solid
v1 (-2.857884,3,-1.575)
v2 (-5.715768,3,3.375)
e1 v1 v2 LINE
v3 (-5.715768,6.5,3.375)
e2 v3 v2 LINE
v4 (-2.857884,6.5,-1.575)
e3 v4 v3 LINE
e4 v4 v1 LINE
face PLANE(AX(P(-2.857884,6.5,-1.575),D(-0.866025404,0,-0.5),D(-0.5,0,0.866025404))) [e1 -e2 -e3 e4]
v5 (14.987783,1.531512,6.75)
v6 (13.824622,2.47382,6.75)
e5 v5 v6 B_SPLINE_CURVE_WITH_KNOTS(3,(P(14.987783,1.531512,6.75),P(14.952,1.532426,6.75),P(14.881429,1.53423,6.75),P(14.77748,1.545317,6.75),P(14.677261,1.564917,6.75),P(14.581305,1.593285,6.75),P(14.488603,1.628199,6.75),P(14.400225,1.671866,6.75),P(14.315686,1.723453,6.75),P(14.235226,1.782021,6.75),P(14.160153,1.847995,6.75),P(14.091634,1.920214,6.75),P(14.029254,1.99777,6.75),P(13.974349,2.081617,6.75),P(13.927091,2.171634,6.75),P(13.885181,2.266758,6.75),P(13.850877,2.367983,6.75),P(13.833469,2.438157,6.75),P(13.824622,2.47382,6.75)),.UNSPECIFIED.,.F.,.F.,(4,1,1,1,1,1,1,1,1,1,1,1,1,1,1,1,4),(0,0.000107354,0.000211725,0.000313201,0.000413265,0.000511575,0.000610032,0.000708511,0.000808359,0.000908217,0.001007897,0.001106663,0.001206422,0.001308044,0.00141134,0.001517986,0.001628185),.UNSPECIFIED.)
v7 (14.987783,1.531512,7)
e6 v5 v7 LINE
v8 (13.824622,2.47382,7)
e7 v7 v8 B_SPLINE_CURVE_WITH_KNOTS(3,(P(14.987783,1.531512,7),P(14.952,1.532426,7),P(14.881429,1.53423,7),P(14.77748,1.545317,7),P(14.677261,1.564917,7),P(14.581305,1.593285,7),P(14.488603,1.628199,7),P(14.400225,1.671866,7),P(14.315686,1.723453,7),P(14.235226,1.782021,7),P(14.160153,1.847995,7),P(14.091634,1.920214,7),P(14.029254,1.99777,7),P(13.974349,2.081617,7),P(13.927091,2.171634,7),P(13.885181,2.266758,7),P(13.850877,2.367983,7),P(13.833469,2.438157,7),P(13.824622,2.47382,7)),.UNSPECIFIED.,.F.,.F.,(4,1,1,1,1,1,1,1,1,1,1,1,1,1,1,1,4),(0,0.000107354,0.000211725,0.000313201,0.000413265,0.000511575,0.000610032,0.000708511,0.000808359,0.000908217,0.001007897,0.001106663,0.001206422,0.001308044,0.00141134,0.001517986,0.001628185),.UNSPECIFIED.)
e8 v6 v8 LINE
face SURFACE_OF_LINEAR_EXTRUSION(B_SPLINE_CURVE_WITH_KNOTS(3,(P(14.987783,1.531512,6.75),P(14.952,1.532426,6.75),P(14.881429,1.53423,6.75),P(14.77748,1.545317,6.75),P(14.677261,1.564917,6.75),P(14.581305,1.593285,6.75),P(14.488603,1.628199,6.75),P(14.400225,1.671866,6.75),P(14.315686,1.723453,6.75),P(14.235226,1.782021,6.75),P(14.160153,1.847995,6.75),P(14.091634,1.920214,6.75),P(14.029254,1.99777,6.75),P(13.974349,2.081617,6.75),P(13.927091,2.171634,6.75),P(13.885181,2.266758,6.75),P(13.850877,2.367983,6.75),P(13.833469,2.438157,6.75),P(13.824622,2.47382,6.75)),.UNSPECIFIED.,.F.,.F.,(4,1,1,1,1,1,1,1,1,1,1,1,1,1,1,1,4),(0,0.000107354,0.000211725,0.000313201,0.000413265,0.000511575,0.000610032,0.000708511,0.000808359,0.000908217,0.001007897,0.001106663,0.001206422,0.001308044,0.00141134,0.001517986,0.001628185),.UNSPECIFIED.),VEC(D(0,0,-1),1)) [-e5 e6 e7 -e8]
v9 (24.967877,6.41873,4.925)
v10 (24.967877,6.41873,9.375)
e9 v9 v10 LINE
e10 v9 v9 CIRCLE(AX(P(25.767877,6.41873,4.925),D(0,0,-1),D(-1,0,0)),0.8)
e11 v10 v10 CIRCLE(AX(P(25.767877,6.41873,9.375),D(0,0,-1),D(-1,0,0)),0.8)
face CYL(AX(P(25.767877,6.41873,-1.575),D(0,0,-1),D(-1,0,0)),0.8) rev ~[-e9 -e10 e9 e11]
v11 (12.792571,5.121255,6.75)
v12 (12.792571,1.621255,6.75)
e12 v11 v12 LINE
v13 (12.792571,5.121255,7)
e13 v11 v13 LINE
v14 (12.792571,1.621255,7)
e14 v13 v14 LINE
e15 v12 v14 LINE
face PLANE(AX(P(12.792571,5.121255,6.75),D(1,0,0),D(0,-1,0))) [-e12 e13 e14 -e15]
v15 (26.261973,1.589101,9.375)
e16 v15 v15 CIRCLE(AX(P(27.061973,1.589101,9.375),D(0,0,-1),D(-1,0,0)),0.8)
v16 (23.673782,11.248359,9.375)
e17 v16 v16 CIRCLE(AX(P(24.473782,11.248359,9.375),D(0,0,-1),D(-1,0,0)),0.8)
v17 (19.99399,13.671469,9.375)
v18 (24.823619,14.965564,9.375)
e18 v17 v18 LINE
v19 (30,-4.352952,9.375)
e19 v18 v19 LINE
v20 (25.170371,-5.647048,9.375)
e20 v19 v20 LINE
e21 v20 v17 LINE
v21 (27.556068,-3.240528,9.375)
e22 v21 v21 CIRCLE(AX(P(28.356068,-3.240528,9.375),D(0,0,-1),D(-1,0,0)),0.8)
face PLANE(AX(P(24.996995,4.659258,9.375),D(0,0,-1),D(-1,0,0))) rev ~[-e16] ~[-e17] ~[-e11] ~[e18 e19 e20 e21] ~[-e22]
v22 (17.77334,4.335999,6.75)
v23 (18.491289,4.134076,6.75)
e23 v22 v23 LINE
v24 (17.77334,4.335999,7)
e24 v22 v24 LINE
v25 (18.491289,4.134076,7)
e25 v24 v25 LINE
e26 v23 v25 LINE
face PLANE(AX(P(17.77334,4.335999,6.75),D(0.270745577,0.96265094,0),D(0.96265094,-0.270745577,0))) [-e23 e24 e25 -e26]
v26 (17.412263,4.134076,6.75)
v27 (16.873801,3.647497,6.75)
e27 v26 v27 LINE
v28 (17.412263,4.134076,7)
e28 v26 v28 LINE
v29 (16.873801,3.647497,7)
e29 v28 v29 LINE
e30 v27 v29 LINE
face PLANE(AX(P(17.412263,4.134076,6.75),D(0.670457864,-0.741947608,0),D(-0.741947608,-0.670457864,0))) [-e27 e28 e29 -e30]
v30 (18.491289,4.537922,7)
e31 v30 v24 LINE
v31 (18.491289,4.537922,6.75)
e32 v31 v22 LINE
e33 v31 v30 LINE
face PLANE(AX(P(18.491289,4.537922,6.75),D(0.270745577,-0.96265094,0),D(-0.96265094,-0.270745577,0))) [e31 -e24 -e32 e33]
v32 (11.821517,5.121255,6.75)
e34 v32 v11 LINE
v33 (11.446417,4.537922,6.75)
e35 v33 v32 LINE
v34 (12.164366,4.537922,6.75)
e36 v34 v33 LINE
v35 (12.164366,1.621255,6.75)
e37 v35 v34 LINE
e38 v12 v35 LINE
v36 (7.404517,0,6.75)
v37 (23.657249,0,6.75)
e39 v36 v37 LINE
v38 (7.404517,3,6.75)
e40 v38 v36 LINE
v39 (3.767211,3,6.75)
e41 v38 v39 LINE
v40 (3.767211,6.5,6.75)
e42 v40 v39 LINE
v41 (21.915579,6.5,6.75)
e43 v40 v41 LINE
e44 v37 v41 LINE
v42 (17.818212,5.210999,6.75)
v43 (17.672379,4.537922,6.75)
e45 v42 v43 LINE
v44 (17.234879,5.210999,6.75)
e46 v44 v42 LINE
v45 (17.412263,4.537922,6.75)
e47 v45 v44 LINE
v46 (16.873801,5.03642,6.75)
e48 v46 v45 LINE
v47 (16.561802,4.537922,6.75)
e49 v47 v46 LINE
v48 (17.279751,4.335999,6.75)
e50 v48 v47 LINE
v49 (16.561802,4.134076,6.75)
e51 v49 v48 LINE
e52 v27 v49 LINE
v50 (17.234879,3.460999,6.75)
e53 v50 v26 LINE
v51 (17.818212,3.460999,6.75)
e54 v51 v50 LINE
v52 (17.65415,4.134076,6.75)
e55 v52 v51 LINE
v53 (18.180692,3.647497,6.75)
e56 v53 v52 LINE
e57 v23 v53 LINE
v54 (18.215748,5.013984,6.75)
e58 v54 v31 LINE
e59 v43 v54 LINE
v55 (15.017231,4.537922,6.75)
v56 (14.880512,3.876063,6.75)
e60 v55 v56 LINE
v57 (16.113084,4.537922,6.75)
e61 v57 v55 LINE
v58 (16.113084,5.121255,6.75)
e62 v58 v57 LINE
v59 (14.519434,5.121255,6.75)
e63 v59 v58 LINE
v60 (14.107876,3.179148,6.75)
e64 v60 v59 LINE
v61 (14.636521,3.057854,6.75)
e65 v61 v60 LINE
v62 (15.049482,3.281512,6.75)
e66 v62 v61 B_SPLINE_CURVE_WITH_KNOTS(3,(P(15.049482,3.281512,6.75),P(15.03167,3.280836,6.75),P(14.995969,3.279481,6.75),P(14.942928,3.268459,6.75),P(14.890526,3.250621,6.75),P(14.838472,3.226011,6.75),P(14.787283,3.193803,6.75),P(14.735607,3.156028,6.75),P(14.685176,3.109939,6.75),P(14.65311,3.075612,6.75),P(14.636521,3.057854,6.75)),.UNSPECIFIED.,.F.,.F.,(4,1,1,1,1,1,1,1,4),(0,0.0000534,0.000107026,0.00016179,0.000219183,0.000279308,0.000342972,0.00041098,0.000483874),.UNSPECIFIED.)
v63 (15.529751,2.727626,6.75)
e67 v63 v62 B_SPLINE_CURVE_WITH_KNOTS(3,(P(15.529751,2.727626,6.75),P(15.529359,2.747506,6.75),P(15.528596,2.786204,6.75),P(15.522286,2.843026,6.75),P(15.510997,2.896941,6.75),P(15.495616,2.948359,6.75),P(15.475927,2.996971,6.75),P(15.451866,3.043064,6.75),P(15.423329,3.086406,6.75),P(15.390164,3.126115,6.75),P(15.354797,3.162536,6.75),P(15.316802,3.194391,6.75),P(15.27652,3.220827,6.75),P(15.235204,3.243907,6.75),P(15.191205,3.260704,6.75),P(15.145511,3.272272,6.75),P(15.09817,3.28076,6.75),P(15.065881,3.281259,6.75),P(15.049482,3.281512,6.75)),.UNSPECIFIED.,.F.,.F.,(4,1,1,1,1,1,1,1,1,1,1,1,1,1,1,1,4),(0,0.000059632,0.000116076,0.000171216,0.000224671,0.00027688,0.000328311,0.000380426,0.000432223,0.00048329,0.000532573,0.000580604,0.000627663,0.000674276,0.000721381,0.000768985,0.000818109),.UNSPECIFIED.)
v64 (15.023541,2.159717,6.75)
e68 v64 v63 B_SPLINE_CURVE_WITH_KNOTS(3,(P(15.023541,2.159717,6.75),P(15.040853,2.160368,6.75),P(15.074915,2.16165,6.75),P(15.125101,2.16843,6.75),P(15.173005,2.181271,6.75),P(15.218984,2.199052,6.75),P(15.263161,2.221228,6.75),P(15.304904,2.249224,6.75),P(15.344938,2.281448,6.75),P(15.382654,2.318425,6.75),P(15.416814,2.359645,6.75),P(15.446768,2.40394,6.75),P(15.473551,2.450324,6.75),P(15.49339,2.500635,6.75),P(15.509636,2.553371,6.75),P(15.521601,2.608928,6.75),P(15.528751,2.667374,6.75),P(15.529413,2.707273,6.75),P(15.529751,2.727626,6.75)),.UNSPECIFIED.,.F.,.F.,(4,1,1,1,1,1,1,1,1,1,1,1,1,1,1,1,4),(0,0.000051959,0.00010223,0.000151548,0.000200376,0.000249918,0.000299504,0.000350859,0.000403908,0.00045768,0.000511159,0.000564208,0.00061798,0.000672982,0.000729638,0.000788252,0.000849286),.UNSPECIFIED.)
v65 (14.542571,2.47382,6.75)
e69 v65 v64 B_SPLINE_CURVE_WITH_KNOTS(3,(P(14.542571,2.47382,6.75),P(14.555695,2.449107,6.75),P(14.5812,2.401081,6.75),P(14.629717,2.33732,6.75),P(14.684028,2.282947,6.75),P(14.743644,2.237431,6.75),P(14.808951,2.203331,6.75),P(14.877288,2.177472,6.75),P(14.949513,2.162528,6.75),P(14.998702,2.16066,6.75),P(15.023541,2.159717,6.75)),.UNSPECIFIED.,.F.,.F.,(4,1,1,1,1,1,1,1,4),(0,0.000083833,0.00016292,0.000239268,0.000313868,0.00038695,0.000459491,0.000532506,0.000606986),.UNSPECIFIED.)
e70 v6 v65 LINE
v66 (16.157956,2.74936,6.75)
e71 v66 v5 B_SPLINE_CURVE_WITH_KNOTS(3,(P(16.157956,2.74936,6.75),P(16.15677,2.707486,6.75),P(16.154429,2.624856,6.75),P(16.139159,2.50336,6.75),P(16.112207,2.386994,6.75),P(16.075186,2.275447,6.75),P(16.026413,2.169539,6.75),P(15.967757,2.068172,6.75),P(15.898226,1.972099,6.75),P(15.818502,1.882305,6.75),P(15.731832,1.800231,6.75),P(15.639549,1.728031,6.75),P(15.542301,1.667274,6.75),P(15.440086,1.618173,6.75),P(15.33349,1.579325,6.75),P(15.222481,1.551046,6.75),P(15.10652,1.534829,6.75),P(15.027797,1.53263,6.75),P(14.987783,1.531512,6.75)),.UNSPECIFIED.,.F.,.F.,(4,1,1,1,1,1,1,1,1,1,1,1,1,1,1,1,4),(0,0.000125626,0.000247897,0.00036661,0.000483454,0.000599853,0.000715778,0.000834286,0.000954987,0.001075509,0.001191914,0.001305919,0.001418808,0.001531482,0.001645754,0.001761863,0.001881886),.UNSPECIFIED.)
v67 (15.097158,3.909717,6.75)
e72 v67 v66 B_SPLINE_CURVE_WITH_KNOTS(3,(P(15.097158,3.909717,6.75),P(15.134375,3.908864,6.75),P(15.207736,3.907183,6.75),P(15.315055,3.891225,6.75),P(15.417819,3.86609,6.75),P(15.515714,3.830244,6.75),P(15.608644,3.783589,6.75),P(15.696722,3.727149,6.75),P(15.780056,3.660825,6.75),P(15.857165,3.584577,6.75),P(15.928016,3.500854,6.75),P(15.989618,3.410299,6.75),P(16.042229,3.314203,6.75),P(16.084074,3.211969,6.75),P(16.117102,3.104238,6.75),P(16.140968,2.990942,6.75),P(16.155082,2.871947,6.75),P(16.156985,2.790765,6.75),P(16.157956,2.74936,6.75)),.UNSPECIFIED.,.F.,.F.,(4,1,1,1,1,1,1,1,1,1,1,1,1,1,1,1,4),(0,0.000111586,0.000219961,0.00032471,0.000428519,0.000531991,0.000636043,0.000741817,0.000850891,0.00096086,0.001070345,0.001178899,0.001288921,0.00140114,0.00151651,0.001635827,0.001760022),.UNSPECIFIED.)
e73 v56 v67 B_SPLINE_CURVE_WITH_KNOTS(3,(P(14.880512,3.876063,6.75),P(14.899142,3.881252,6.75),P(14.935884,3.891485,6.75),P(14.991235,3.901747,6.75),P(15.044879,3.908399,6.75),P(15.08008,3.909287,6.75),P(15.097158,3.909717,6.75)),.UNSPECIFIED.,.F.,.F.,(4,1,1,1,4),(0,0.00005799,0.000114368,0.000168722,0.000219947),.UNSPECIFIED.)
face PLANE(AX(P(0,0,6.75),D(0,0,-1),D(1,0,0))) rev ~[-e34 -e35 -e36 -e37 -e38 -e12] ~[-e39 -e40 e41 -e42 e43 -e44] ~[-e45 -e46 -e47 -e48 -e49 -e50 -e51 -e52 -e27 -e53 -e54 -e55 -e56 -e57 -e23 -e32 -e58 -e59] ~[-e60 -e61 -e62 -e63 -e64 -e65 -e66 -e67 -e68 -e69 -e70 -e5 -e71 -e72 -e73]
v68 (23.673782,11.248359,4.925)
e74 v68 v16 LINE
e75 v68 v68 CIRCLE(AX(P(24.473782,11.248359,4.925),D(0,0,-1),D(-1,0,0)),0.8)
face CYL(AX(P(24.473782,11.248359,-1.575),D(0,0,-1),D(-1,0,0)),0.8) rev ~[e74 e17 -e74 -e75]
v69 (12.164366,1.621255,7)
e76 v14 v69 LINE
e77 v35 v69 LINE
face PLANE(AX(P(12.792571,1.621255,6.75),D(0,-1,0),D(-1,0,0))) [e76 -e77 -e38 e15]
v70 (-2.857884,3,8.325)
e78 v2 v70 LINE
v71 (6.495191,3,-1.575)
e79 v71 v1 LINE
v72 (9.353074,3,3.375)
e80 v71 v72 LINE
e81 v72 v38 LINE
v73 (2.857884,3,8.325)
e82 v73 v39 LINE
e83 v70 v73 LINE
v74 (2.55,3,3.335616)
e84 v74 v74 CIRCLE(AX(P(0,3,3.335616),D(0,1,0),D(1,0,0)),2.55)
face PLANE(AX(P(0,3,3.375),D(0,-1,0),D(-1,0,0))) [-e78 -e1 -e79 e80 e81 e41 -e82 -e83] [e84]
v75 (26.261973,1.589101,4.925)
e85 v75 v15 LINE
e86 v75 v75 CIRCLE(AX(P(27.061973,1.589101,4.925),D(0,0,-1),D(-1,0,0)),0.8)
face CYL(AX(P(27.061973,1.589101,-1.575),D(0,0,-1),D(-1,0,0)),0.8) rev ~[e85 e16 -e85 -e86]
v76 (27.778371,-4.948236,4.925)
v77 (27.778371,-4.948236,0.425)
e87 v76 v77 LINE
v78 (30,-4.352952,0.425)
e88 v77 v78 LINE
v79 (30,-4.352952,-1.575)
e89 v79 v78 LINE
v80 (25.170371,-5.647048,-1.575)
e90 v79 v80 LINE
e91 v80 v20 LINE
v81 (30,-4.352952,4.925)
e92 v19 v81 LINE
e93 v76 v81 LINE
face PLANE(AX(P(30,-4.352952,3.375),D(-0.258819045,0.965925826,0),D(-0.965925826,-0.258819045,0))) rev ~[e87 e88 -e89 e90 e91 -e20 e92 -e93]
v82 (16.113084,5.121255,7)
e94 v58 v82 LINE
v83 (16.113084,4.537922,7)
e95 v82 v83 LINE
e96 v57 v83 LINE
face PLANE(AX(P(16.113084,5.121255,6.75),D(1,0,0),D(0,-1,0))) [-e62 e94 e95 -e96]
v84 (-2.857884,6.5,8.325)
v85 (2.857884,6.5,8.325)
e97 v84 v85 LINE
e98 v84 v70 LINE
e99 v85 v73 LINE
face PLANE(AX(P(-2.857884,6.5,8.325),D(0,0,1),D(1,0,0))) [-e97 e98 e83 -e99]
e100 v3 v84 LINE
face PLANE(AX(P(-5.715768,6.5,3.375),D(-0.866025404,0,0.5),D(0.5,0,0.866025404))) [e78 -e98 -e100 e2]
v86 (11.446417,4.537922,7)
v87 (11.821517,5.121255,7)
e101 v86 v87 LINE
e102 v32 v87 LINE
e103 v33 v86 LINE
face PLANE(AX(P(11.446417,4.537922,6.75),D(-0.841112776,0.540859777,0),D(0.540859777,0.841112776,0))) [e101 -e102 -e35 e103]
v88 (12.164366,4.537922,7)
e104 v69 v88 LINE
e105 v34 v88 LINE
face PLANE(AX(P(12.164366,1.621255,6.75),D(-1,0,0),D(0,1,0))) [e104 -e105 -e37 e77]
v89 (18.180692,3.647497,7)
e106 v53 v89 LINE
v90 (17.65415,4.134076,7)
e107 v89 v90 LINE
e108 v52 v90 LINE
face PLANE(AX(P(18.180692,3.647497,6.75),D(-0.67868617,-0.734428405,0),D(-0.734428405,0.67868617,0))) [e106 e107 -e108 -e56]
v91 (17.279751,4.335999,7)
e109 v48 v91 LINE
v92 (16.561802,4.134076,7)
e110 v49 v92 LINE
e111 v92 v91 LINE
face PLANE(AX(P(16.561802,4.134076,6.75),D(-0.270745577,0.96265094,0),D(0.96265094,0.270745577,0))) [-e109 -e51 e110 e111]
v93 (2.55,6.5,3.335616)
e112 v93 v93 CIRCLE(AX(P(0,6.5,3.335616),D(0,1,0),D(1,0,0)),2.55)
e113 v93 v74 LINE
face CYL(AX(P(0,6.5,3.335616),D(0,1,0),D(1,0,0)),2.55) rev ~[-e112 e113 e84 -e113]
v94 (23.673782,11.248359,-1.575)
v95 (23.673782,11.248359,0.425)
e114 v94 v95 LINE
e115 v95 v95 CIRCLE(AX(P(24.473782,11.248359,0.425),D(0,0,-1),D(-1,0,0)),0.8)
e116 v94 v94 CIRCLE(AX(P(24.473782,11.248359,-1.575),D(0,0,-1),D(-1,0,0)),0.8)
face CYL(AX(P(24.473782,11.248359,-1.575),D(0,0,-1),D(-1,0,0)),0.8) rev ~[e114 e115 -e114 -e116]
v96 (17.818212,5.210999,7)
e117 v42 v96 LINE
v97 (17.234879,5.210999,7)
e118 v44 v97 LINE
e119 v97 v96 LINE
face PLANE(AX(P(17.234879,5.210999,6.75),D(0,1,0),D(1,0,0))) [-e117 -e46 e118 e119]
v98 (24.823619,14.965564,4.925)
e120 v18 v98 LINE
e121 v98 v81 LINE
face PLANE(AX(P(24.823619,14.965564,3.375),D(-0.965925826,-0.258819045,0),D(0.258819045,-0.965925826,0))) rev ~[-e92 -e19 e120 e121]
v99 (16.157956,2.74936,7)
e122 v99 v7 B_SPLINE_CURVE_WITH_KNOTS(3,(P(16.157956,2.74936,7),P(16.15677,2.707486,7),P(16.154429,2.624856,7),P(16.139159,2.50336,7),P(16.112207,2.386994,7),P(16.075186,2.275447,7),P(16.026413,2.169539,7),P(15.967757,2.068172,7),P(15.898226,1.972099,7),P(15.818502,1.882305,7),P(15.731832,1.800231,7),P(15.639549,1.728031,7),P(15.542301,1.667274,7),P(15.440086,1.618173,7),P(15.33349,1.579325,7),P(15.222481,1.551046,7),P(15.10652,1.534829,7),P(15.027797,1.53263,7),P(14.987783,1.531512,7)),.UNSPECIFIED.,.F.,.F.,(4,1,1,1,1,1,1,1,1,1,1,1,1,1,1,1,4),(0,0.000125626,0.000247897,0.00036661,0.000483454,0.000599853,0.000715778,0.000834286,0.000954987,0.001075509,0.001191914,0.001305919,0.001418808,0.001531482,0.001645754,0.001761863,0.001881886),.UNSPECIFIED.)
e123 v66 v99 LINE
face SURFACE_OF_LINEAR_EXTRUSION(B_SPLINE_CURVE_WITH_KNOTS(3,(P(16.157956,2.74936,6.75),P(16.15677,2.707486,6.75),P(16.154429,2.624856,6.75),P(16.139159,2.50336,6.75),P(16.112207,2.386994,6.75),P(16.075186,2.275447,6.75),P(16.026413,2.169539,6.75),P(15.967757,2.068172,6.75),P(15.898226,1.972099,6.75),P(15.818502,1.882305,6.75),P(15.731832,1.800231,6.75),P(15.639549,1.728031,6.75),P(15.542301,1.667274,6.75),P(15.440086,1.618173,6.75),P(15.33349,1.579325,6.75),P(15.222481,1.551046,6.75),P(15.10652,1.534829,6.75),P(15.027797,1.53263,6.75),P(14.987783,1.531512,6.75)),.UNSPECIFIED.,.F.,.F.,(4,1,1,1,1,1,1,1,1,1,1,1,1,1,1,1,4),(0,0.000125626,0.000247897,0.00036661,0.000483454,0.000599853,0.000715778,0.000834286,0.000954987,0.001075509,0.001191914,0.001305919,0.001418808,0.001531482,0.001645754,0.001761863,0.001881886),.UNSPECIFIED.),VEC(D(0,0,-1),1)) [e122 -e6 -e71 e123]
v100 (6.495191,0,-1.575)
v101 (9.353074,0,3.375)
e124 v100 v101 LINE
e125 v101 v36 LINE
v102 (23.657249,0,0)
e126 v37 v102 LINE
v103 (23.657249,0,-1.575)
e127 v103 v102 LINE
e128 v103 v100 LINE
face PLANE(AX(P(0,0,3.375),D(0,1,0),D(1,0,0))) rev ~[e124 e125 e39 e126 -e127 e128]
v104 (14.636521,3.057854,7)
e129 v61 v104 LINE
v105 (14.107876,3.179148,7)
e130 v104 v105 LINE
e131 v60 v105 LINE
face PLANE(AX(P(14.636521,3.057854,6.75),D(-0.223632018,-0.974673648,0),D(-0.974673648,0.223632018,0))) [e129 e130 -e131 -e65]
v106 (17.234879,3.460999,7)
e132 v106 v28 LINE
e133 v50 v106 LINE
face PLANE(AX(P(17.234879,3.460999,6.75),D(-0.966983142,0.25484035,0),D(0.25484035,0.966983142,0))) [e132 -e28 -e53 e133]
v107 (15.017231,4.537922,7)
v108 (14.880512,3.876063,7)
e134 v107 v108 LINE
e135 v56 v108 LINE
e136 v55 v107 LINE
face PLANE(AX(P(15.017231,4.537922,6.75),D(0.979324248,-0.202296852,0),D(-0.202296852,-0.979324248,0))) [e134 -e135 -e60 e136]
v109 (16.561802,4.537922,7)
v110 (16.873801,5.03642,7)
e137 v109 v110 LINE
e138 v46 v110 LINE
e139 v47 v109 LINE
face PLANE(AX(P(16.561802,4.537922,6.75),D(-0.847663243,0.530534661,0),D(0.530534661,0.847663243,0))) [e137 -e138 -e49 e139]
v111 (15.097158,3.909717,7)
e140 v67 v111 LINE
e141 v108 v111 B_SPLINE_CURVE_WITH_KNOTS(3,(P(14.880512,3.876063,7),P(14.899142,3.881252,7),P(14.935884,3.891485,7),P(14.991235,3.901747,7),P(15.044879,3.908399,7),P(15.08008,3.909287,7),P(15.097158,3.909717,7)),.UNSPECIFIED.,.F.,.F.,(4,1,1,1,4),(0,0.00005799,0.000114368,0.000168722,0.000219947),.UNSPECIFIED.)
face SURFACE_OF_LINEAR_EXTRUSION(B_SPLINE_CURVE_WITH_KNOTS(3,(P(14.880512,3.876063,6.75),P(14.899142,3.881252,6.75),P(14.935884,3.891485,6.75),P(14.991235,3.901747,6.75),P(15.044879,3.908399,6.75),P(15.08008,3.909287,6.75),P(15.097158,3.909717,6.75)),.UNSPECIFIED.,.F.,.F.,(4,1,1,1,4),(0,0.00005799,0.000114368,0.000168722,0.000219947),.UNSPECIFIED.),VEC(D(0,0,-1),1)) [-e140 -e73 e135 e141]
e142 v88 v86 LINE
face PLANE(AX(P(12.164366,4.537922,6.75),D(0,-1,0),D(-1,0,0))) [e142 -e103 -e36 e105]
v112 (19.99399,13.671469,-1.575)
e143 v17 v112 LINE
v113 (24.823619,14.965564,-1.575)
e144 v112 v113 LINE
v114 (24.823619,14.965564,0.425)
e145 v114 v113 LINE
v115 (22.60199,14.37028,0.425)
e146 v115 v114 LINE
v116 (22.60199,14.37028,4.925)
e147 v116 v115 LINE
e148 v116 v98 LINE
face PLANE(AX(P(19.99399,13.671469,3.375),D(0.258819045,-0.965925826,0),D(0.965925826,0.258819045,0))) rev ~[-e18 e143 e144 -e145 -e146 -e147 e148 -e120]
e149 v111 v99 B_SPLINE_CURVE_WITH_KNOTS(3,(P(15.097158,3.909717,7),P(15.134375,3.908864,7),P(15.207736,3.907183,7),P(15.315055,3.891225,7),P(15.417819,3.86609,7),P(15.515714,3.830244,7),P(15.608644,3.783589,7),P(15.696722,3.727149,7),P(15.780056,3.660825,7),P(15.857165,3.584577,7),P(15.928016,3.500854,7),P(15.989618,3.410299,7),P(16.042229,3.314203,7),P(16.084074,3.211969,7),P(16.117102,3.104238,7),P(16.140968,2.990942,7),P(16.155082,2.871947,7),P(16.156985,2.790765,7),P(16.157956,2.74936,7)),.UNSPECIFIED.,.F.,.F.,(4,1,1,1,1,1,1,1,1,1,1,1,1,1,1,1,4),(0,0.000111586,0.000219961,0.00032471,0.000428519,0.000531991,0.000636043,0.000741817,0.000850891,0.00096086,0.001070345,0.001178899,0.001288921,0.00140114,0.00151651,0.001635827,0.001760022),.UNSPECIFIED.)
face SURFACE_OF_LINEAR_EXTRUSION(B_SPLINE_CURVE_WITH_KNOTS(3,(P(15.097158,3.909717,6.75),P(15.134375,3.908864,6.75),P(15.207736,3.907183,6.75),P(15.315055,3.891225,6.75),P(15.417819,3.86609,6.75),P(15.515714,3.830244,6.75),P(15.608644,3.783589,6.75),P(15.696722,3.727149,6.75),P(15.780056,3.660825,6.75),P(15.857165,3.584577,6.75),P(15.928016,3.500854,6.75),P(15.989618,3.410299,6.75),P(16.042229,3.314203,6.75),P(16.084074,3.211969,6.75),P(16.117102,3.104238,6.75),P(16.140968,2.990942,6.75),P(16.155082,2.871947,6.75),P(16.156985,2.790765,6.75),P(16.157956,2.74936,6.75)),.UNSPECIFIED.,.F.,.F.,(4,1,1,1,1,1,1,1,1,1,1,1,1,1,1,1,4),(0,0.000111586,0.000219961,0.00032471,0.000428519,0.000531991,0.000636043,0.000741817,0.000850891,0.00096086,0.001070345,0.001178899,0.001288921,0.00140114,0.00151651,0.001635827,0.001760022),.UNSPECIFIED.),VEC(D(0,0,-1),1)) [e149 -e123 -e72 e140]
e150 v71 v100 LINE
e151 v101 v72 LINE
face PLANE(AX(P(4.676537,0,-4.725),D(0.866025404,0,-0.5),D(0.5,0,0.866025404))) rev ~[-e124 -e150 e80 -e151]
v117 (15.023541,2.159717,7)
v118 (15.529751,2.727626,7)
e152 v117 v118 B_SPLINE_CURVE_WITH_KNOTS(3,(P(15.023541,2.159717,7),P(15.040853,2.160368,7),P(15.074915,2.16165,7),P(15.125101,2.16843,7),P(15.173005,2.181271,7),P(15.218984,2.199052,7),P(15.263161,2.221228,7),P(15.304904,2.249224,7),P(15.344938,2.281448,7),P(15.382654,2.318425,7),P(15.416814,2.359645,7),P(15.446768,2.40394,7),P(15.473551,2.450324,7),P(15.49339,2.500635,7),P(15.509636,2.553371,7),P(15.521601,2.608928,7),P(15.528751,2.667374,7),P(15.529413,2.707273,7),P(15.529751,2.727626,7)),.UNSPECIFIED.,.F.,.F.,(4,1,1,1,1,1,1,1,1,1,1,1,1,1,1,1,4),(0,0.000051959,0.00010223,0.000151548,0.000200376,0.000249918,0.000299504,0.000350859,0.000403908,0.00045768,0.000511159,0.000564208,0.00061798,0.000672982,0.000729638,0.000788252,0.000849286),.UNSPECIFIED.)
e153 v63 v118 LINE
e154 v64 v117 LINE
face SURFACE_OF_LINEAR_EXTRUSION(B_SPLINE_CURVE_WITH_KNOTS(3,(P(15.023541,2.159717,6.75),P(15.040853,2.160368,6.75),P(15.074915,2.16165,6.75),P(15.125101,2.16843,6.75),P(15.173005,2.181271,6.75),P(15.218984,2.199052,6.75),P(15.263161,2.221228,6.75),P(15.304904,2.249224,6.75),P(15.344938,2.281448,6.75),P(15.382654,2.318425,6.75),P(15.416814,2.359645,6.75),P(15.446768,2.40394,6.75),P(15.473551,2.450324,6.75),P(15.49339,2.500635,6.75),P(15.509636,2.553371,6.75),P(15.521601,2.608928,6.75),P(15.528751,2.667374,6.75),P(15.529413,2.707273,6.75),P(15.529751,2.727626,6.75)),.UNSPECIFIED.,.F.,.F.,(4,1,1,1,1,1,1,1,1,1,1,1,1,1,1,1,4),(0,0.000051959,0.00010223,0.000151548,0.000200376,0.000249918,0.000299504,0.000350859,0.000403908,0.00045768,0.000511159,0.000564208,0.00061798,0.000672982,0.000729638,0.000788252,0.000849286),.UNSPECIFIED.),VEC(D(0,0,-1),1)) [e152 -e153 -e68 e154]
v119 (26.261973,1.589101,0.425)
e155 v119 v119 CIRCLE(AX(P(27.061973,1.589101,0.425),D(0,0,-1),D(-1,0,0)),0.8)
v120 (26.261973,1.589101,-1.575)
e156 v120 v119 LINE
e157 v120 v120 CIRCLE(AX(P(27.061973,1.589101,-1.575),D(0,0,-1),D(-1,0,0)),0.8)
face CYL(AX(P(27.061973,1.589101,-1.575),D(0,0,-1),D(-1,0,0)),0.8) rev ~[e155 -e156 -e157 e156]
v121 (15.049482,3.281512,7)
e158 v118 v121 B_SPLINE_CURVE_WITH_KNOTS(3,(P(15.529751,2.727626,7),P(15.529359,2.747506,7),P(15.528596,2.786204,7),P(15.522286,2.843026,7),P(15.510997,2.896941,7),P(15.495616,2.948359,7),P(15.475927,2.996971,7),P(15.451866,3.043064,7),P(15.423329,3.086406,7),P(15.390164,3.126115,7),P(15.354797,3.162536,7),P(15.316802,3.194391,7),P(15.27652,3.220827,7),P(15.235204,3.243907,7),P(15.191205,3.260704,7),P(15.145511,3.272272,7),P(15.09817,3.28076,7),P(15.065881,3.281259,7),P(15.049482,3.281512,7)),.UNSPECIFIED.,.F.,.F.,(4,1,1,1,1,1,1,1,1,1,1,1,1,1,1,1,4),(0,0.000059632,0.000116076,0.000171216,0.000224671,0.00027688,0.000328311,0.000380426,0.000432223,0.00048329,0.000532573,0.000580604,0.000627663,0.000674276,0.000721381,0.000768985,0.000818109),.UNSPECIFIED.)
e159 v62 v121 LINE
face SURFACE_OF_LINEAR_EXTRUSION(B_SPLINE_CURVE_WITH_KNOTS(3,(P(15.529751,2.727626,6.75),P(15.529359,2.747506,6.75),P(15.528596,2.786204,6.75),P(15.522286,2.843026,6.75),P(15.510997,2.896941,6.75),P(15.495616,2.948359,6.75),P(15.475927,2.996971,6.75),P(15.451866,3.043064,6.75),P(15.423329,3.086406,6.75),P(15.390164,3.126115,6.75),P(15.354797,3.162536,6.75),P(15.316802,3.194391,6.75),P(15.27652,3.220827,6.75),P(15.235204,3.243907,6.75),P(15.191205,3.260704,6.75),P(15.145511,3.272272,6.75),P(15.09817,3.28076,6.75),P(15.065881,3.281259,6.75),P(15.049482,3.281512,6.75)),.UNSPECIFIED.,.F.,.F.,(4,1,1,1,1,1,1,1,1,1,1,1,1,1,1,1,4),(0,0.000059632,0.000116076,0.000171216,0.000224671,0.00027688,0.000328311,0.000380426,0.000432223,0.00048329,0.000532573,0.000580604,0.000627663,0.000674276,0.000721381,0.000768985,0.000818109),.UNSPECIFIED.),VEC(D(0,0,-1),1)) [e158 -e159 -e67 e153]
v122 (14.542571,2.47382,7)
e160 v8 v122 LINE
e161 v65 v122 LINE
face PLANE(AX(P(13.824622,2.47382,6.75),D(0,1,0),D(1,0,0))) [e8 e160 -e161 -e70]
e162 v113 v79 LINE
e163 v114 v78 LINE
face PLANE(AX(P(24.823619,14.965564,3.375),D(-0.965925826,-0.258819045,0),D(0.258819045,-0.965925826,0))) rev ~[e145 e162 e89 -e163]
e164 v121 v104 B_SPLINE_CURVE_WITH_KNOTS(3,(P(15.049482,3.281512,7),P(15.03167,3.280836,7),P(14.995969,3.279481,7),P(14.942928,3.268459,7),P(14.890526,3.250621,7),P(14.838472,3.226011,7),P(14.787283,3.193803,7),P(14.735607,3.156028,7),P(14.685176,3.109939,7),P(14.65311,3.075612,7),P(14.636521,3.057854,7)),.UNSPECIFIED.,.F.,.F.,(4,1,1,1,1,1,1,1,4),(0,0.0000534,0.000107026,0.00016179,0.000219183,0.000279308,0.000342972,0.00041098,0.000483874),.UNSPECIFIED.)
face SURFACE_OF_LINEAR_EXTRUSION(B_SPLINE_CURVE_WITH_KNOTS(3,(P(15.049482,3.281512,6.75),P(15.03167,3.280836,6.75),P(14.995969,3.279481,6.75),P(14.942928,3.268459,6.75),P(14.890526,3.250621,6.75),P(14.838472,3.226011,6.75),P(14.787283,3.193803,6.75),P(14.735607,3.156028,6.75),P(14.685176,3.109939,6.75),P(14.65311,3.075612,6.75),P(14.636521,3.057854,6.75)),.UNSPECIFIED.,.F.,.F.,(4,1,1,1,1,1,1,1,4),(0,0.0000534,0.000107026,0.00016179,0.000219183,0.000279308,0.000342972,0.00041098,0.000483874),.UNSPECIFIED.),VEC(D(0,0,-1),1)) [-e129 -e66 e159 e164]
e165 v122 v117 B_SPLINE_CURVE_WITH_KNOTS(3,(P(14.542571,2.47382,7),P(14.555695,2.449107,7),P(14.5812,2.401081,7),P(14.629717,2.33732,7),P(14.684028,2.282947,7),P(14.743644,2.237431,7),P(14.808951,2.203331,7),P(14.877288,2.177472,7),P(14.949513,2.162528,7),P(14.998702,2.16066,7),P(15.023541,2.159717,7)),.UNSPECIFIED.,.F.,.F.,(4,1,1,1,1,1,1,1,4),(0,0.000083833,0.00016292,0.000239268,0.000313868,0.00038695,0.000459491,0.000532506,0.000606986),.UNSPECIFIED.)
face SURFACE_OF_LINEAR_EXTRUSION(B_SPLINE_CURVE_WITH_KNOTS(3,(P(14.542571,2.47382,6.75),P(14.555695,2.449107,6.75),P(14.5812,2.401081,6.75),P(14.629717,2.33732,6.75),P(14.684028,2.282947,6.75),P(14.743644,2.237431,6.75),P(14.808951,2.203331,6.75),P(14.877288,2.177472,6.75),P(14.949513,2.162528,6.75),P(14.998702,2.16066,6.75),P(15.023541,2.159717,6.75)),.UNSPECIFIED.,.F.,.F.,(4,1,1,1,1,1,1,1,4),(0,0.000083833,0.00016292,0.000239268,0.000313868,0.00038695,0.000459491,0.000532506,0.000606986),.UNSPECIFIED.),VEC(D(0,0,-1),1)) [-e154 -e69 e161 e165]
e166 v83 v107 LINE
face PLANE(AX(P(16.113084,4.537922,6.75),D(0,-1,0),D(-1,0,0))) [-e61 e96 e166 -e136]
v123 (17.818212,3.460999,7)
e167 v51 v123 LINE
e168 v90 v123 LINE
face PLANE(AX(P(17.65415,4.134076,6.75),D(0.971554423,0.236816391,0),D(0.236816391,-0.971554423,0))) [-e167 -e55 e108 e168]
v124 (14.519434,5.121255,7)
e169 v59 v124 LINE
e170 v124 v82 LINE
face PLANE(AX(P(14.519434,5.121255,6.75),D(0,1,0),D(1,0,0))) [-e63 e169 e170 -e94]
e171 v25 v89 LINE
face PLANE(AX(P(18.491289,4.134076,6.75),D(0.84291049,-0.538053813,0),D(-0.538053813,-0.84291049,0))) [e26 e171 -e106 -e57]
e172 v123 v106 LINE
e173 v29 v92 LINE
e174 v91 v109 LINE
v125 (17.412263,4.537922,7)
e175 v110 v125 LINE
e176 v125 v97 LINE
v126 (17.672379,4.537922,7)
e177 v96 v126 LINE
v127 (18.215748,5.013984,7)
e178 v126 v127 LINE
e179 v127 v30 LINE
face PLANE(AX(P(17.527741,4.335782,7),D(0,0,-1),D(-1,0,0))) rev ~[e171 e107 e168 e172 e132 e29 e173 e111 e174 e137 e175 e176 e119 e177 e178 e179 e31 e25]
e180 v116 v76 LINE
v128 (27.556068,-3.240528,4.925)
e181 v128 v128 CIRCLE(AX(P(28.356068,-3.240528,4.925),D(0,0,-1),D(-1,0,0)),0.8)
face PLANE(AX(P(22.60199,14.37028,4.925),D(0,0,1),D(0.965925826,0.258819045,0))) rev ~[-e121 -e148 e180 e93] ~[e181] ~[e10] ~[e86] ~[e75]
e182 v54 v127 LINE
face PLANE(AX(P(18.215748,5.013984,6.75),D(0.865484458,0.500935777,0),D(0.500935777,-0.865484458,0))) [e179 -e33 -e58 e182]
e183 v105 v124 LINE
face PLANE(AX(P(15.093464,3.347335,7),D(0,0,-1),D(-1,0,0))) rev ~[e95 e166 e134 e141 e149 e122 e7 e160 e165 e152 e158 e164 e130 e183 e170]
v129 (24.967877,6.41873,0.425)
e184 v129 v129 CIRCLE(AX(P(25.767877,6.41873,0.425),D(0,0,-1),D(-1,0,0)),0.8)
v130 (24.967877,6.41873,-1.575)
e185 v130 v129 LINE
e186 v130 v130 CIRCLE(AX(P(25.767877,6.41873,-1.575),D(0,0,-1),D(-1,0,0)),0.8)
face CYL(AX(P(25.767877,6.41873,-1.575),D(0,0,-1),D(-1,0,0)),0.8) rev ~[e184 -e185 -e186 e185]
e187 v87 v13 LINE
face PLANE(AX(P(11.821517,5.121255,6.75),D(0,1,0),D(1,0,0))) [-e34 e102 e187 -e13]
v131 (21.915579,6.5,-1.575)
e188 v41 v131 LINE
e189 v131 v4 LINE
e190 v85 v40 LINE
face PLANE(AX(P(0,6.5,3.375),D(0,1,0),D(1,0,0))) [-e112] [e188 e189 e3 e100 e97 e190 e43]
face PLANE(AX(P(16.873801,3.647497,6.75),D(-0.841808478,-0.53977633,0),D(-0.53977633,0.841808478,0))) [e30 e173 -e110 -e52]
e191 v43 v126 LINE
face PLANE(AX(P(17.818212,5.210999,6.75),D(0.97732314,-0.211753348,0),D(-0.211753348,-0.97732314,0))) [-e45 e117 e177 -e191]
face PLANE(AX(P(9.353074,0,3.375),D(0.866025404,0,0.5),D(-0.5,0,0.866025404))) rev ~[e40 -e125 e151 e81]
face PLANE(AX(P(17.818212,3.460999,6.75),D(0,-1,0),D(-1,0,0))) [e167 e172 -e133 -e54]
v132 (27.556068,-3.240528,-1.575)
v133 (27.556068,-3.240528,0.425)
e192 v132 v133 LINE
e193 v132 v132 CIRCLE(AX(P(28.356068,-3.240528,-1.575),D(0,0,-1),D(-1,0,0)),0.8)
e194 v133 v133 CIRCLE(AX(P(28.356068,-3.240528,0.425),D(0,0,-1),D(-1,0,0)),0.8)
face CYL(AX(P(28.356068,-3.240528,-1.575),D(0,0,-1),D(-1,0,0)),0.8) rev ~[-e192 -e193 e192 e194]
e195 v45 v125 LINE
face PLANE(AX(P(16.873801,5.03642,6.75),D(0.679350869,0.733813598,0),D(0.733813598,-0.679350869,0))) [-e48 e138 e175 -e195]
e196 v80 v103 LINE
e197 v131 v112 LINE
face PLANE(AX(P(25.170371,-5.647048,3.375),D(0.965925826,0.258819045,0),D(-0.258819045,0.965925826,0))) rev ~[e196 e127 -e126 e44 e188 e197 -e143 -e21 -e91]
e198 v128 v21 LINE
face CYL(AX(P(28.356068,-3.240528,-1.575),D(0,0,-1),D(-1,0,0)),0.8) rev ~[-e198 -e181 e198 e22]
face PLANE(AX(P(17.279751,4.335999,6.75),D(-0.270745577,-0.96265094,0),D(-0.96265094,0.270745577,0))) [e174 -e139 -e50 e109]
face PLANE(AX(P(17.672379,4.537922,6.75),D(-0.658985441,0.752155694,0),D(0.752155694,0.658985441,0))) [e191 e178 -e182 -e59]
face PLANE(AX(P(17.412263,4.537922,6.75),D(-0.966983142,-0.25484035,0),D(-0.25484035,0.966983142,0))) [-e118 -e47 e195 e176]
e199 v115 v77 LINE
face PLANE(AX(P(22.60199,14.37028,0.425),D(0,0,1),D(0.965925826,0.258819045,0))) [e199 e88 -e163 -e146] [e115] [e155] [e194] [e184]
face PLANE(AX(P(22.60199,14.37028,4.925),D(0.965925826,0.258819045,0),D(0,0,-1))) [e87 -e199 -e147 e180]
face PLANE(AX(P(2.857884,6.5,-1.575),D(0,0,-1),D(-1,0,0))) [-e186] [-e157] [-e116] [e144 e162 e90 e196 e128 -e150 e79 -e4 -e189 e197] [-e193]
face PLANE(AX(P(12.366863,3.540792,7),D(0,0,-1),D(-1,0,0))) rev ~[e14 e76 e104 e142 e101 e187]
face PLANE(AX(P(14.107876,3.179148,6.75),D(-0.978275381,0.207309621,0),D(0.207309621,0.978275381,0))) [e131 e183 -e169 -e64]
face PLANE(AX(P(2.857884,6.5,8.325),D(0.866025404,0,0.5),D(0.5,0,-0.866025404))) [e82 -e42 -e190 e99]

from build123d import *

# Parameters (mm, degrees)
SKETCH1_W                = 25
SKETCH1_H                = 6.75
BOSS_EXTRUDE1_DEPTH      = 6.5
BOSS_EXTRUDE4_DEPTH      = 6.5
BOSS_EXTRUDE3_DEPTH      = 6
BOSS_EXTRUDE3_DEPTH_BACK = 4.95
SKETCH4_W                = 2.3
SKETCH4_H                = 4.5
CUT_EXTRUDE1_DEPTH       = 23
SKETCH6_R                = 2.55
CUT_EXTRUDE2_DEPTH       = 10
BOSS_EXTRUDE5_DEPTH      = 1.575
CUT_EXTRUDE3_DEPTH       = 3
SKETCH9_R                = 0.8
CUT_EXTRUDE4_DEPTH       = 10.95
BOSS_EXTRUDE6_DEPTH      = 0.25


with BuildPart() as part:
    # Sketch1 → Boss-Extrude1 (new body)
    with BuildSketch(Plane(origin=(0, 0, 0), x_dir=(1, 0, 0), z_dir=(0, 1, 0))):
        with Locations((12.5, -3.375)):
            Rectangle(SKETCH1_W, SKETCH1_H)
    extrude(amount=BOSS_EXTRUDE1_DEPTH)

    # Sketch5 → Boss-Extrude4 (add)
    with BuildSketch(Plane(origin=(0, 6.5, 0), x_dir=(1, 0, 0), z_dir=(0, 1, 0))):
        Polygon((-5.715767665, -3.375), (-2.857883832, -8.325), (2.857883832, -8.325), (5.715767665, -3.375), (2.857883832, 1.575), (-2.857883832, 1.575), align=None)
    extrude(amount=-BOSS_EXTRUDE4_DEPTH)

    # Sketch3 → Boss-Extrude3 (add, two sides)
    with BuildSketch(Plane.XY.offset(3.375)) as boss_extrude3_sk:
        Polygon((19.993989967, 13.671468913), (24.823619098, 14.965564139), (30, -4.352952387), (25.170370869, -5.647047613), align=None)
    extrude(amount=BOSS_EXTRUDE3_DEPTH)
    extrude(boss_extrude3_sk.sketch, amount=-BOSS_EXTRUDE3_DEPTH_BACK)

    # Sketch4 → Cut-Extrude1 (cut)
    with BuildSketch(Plane(origin=(-2.078523862, 7.757156658, 0), x_dir=(0.965925826, 0.258819045, 0), z_dir=(-0.258819045, 0.965925826, 0))):
        with Locations((26.701147808, -2.675)):
            Rectangle(SKETCH4_W, SKETCH4_H)
    extrude(amount=-CUT_EXTRUDE1_DEPTH, mode=Mode.SUBTRACT)

    # Sketch6 → Cut-Extrude2 (cut)
    with BuildSketch(Plane(origin=(0, 6.5, 0), x_dir=(1, 0, 0), z_dir=(0, 1, 0))):
        with Locations((0, -3.335615973)):
            Circle(SKETCH6_R)
    extrude(amount=-CUT_EXTRUDE2_DEPTH, mode=Mode.SUBTRACT)

    # Sketch7 → Boss-Extrude5 (add)
    with BuildSketch(Plane(origin=(0, 0, -1.575), x_dir=(-1, 0, 0), z_dir=(0, 0, -1))):
        Polygon((-2.857883832, 0), (-23.657249021, 0), (-25.170370869, -5.647047613), (-30, -4.352952387), (-24.823619098, 14.965564139), (-19.993989967, 13.671468913), (-21.91557927, 6.5), (-2.857883832, 6.5), align=None)
    extrude(amount=-BOSS_EXTRUDE5_DEPTH)

    # Sketch8 → Cut-Extrude3 (cut)
    with BuildSketch(Plane(origin=(0, 0, 0), x_dir=(-1, 0, 0), z_dir=(0, -1, 0))):
        Polygon((-4.67653718, -11.475), (4.67653718, -11.475), (9.353074361, -3.375), (4.67653718, 4.725), (-4.67653718, 4.725), (-9.353074361, -3.375), align=None)
    extrude(amount=-CUT_EXTRUDE3_DEPTH, mode=Mode.SUBTRACT)

    # Sketch9 → Cut-Extrude4 (cut)
    with BuildSketch(Plane(origin=(0, 0, -1.575), x_dir=(-1, 0, 0), z_dir=(0, 0, -1))):
        with Locations((-28.356067858, -3.240528406)):
            Circle(SKETCH9_R)
        with Locations((-27.061972633, 1.589100725)):
            Circle(SKETCH9_R)
        with Locations((-25.767877407, 6.418729856)):
            Circle(SKETCH9_R)
        with Locations((-24.473782182, 11.248358988)):
            Circle(SKETCH9_R)
    extrude(amount=-CUT_EXTRUDE4_DEPTH, mode=Mode.SUBTRACT)

    # Sketch10 → Boss-Extrude6 (add)
    with BuildSketch(Plane.XY.offset(6.75)):
        Polygon((11.821517388, 5.121255448), (12.792571074, 5.121255448), (12.792571074, 1.621255448), (12.164365946, 1.621255448), (12.164365946, 4.537922115), (11.446417228, 4.537922115), align=None)
        with BuildLine():
            Line((14.519434055, 5.121255448), (16.113083895, 5.121255448))
            Line((16.113083895, 5.121255448), (16.113083895, 4.537922115))
            Line((16.113083895, 4.537922115), (15.017230529, 4.537922115))
            Line((15.017230529, 4.537922115), (14.880511779, 3.876063141))
            add(Edge.make_bspline(
                [(14.880511779, 3.876063141), (14.899141666, 3.881251799), (14.93588363, 3.8914849), (14.991235445, 3.901747406), (15.044879068, 3.908399236), (15.080079686, 3.909286501), (15.097158414, 3.909716987)],
                knots=[0, 0, 0, 0, 5.799e-05, 0.000114368, 0.000168722, 0.000219947, 0.000219947, 0.000219947, 0.000219947], degree=3))
            add(Edge.make_bspline(
                [(15.097158414, 3.909716987), (15.134374752, 3.908864196), (15.207736352, 3.907183157), (15.315055064, 3.891224618), (15.41781907, 3.866090403), (15.515713902, 3.830243826), (15.608643929, 3.78358858), (15.696721801, 3.727148811), (15.780055618, 3.66082539), (15.857165021, 3.584576793), (15.928016362, 3.500854107), (15.989617562, 3.410299164), (16.042228831, 3.314203188), (16.084074015, 3.211968849), (16.117101802, 3.104238248), (16.140968418, 2.990942348), (16.15508194, 2.871946875), (16.156985062, 2.790764772), (16.157955689, 2.749360416)],
                knots=[0, 0, 0, 0, 0.000111586, 0.000219961, 0.00032471, 0.000428519, 0.000531991, 0.000636043, 0.000741817, 0.000850891, 0.00096086, 0.001070345, 0.001178899, 0.001288921, 0.00140114, 0.00151651, 0.001635827, 0.001760022, 0.001760022, 0.001760022, 0.001760022], degree=3))
            add(Edge.make_bspline(
                [(16.157955689, 2.749360416), (16.156769568, 2.707486025), (16.154429003, 2.62485561), (16.139158961, 2.503359672), (16.112207063, 2.386993992), (16.075185934, 2.275447061), (16.026412967, 2.169538723), (15.967756798, 2.068171845), (15.898225712, 1.972098843), (15.818502044, 1.882304581), (15.73183196, 1.800230902), (15.639548779, 1.728030529), (15.54230082, 1.6672745), (15.440085734, 1.618173357), (15.333489963, 1.579325407), (15.222481155, 1.551045953), (15.106519819, 1.534829258), (15.027797139, 1.53262981), (14.987783414, 1.531511859)],
                knots=[0, 0, 0, 0, 0.000125626, 0.000247897, 0.00036661, 0.000483454, 0.000599853, 0.000715778, 0.000834286, 0.000954987, 0.001075509, 0.001191914, 0.001305919, 0.001418808, 0.001531482, 0.001645754, 0.001761863, 0.001881886, 0.001881886, 0.001881886, 0.001881886], degree=3))
            add(Edge.make_bspline(
                [(14.987783414, 1.531511859), (14.95200033, 1.532426412), (14.881428601, 1.534230104), (14.777479542, 1.545316541), (14.677261106, 1.564917466), (14.581305344, 1.593285081), (14.488602639, 1.628199138), (14.400224662, 1.671865764), (14.315685761, 1.723453489), (14.235225994, 1.782020834), (14.160152719, 1.847994677), (14.091633788, 1.920214415), (14.029254379, 1.997769753), (13.974349314, 2.08161749), (13.927090704, 2.171633744), (13.885180804, 2.266757653), (13.850877131, 2.367982614), (13.833469005, 2.438157381), (13.824622356, 2.473819551)],
                knots=[0, 0, 0, 0, 0.000107354, 0.000211725, 0.000313201, 0.000413265, 0.000511575, 0.000610032, 0.000708511, 0.000808359, 0.000908217, 0.001007897, 0.001106663, 0.001206422, 0.001308044, 0.00141134, 0.001517986, 0.001628185, 0.001628185, 0.001628185, 0.001628185], degree=3))
            Line((13.824622356, 2.473819551), (14.542571074, 2.473819551))
            add(Edge.make_bspline(
                [(14.542571074, 2.473819551), (14.555695194, 2.44910712), (14.581200423, 2.401081329), (14.629717008, 2.337319877), (14.684028245, 2.282946849), (14.743644216, 2.23743101), (14.808951196, 2.203331319), (14.87728805, 2.17747169), (14.949513264, 2.162528368), (14.998701823, 2.160660305), (15.023540625, 2.159716987)],
                knots=[0, 0, 0, 0, 8.3833e-05, 0.00016292, 0.000239268, 0.000313868, 0.00038695, 0.000459491, 0.000532506, 0.000606986, 0.000606986, 0.000606986, 0.000606986], degree=3))
            add(Edge.make_bspline(
                [(15.023540625, 2.159716987), (15.040852937, 2.160368356), (15.074915202, 2.161649936), (15.125100563, 2.168429817), (15.173004696, 2.181270757), (15.218983754, 2.199052474), (15.263161251, 2.221228283), (15.304903887, 2.249223798), (15.344937907, 2.281447673), (15.382653832, 2.318424679), (15.416813589, 2.35964544), (15.44676796, 2.403939957), (15.473551298, 2.450323998), (15.493390125, 2.500634949), (15.509636448, 2.553370509), (15.521600897, 2.608928478), (15.528751005, 2.667373743), (15.529412913, 2.707272687), (15.529750561, 2.727625641)],
                knots=[0, 0, 0, 0, 5.1959e-05, 0.00010223, 0.000151548, 0.000200376, 0.000249918, 0.000299504, 0.000350859, 0.000403908, 0.00045768, 0.000511159, 0.000564208, 0.00061798, 0.000672982, 0.000729638, 0.000788252, 0.000849286, 0.000849286, 0.000849286, 0.000849286], degree=3))
            add(Edge.make_bspline(
                [(15.529750561, 2.727625641), (15.529358682, 2.747506156), (15.528595879, 2.786204063), (15.52228582, 2.843026451), (15.510997246, 2.896940614), (15.495616468, 2.948359494), (15.475927235, 2.996970851), (15.451865677, 3.043064042), (15.423328999, 3.086406084), (15.390163995, 3.126114575), (15.354797176, 3.162536333), (15.316801847, 3.194390511), (15.276520328, 3.220827268), (15.235204316, 3.243907326), (15.191204624, 3.260704489), (15.14551063, 3.272272075), (15.098170386, 3.280759905), (15.065880633, 3.281258596), (15.049482132, 3.281511859)],
                knots=[0, 0, 0, 0, 5.9632e-05, 0.000116076, 0.000171216, 0.000224671, 0.00027688, 0.000328311, 0.000380426, 0.000432223, 0.00048329, 0.000532573, 0.000580604, 0.000627663, 0.000674276, 0.000721381, 0.000768985, 0.000818109, 0.000818109, 0.000818109, 0.000818109], degree=3))
            add(Edge.make_bspline(
                [(15.049482132, 3.281511859), (15.031669548, 3.28083597), (14.995969309, 3.279481344), (14.942927689, 3.268459116), (14.890525603, 3.250621017), (14.838471643, 3.226010532), (14.787282533, 3.193803172), (14.735607368, 3.156027632), (14.685175827, 3.10993916), (14.65311005, 3.075612361), (14.636521395, 3.057854006)],
                knots=[0, 0, 0, 0, 5.34e-05, 0.000107026, 0.00016179, 0.000219183, 0.000279308, 0.000342972, 0.00041098, 0.000483874, 0.000483874, 0.000483874, 0.000483874], degree=3))
            Line((14.636521395, 3.057854006), (14.107875561, 3.179148077))
            Line((14.107875561, 3.179148077), (14.519434055, 5.121255448))
        make_face()
        Polygon((17.234878766, 5.210999038), (17.8182121, 5.210999038), (17.672378766, 4.537922115), (18.215748157, 5.013983814), (18.491289023, 4.537922115), (17.773340305, 4.335999038), (18.491289023, 4.134075961), (18.180692068, 3.647497435), (17.6541496, 4.134075961), (17.8182121, 3.460999038), (17.234878766, 3.460999038), (17.412262581, 4.134075961), (16.873801042, 3.647497435), (16.561801843, 4.134075961), (17.279750561, 4.335999038), (16.561801843, 4.537922115), (16.873801042, 5.036419711), (17.412262581, 4.537922115), align=None)
    extrude(amount=BOSS_EXTRUDE6_DEPTH)


solid = part.part
